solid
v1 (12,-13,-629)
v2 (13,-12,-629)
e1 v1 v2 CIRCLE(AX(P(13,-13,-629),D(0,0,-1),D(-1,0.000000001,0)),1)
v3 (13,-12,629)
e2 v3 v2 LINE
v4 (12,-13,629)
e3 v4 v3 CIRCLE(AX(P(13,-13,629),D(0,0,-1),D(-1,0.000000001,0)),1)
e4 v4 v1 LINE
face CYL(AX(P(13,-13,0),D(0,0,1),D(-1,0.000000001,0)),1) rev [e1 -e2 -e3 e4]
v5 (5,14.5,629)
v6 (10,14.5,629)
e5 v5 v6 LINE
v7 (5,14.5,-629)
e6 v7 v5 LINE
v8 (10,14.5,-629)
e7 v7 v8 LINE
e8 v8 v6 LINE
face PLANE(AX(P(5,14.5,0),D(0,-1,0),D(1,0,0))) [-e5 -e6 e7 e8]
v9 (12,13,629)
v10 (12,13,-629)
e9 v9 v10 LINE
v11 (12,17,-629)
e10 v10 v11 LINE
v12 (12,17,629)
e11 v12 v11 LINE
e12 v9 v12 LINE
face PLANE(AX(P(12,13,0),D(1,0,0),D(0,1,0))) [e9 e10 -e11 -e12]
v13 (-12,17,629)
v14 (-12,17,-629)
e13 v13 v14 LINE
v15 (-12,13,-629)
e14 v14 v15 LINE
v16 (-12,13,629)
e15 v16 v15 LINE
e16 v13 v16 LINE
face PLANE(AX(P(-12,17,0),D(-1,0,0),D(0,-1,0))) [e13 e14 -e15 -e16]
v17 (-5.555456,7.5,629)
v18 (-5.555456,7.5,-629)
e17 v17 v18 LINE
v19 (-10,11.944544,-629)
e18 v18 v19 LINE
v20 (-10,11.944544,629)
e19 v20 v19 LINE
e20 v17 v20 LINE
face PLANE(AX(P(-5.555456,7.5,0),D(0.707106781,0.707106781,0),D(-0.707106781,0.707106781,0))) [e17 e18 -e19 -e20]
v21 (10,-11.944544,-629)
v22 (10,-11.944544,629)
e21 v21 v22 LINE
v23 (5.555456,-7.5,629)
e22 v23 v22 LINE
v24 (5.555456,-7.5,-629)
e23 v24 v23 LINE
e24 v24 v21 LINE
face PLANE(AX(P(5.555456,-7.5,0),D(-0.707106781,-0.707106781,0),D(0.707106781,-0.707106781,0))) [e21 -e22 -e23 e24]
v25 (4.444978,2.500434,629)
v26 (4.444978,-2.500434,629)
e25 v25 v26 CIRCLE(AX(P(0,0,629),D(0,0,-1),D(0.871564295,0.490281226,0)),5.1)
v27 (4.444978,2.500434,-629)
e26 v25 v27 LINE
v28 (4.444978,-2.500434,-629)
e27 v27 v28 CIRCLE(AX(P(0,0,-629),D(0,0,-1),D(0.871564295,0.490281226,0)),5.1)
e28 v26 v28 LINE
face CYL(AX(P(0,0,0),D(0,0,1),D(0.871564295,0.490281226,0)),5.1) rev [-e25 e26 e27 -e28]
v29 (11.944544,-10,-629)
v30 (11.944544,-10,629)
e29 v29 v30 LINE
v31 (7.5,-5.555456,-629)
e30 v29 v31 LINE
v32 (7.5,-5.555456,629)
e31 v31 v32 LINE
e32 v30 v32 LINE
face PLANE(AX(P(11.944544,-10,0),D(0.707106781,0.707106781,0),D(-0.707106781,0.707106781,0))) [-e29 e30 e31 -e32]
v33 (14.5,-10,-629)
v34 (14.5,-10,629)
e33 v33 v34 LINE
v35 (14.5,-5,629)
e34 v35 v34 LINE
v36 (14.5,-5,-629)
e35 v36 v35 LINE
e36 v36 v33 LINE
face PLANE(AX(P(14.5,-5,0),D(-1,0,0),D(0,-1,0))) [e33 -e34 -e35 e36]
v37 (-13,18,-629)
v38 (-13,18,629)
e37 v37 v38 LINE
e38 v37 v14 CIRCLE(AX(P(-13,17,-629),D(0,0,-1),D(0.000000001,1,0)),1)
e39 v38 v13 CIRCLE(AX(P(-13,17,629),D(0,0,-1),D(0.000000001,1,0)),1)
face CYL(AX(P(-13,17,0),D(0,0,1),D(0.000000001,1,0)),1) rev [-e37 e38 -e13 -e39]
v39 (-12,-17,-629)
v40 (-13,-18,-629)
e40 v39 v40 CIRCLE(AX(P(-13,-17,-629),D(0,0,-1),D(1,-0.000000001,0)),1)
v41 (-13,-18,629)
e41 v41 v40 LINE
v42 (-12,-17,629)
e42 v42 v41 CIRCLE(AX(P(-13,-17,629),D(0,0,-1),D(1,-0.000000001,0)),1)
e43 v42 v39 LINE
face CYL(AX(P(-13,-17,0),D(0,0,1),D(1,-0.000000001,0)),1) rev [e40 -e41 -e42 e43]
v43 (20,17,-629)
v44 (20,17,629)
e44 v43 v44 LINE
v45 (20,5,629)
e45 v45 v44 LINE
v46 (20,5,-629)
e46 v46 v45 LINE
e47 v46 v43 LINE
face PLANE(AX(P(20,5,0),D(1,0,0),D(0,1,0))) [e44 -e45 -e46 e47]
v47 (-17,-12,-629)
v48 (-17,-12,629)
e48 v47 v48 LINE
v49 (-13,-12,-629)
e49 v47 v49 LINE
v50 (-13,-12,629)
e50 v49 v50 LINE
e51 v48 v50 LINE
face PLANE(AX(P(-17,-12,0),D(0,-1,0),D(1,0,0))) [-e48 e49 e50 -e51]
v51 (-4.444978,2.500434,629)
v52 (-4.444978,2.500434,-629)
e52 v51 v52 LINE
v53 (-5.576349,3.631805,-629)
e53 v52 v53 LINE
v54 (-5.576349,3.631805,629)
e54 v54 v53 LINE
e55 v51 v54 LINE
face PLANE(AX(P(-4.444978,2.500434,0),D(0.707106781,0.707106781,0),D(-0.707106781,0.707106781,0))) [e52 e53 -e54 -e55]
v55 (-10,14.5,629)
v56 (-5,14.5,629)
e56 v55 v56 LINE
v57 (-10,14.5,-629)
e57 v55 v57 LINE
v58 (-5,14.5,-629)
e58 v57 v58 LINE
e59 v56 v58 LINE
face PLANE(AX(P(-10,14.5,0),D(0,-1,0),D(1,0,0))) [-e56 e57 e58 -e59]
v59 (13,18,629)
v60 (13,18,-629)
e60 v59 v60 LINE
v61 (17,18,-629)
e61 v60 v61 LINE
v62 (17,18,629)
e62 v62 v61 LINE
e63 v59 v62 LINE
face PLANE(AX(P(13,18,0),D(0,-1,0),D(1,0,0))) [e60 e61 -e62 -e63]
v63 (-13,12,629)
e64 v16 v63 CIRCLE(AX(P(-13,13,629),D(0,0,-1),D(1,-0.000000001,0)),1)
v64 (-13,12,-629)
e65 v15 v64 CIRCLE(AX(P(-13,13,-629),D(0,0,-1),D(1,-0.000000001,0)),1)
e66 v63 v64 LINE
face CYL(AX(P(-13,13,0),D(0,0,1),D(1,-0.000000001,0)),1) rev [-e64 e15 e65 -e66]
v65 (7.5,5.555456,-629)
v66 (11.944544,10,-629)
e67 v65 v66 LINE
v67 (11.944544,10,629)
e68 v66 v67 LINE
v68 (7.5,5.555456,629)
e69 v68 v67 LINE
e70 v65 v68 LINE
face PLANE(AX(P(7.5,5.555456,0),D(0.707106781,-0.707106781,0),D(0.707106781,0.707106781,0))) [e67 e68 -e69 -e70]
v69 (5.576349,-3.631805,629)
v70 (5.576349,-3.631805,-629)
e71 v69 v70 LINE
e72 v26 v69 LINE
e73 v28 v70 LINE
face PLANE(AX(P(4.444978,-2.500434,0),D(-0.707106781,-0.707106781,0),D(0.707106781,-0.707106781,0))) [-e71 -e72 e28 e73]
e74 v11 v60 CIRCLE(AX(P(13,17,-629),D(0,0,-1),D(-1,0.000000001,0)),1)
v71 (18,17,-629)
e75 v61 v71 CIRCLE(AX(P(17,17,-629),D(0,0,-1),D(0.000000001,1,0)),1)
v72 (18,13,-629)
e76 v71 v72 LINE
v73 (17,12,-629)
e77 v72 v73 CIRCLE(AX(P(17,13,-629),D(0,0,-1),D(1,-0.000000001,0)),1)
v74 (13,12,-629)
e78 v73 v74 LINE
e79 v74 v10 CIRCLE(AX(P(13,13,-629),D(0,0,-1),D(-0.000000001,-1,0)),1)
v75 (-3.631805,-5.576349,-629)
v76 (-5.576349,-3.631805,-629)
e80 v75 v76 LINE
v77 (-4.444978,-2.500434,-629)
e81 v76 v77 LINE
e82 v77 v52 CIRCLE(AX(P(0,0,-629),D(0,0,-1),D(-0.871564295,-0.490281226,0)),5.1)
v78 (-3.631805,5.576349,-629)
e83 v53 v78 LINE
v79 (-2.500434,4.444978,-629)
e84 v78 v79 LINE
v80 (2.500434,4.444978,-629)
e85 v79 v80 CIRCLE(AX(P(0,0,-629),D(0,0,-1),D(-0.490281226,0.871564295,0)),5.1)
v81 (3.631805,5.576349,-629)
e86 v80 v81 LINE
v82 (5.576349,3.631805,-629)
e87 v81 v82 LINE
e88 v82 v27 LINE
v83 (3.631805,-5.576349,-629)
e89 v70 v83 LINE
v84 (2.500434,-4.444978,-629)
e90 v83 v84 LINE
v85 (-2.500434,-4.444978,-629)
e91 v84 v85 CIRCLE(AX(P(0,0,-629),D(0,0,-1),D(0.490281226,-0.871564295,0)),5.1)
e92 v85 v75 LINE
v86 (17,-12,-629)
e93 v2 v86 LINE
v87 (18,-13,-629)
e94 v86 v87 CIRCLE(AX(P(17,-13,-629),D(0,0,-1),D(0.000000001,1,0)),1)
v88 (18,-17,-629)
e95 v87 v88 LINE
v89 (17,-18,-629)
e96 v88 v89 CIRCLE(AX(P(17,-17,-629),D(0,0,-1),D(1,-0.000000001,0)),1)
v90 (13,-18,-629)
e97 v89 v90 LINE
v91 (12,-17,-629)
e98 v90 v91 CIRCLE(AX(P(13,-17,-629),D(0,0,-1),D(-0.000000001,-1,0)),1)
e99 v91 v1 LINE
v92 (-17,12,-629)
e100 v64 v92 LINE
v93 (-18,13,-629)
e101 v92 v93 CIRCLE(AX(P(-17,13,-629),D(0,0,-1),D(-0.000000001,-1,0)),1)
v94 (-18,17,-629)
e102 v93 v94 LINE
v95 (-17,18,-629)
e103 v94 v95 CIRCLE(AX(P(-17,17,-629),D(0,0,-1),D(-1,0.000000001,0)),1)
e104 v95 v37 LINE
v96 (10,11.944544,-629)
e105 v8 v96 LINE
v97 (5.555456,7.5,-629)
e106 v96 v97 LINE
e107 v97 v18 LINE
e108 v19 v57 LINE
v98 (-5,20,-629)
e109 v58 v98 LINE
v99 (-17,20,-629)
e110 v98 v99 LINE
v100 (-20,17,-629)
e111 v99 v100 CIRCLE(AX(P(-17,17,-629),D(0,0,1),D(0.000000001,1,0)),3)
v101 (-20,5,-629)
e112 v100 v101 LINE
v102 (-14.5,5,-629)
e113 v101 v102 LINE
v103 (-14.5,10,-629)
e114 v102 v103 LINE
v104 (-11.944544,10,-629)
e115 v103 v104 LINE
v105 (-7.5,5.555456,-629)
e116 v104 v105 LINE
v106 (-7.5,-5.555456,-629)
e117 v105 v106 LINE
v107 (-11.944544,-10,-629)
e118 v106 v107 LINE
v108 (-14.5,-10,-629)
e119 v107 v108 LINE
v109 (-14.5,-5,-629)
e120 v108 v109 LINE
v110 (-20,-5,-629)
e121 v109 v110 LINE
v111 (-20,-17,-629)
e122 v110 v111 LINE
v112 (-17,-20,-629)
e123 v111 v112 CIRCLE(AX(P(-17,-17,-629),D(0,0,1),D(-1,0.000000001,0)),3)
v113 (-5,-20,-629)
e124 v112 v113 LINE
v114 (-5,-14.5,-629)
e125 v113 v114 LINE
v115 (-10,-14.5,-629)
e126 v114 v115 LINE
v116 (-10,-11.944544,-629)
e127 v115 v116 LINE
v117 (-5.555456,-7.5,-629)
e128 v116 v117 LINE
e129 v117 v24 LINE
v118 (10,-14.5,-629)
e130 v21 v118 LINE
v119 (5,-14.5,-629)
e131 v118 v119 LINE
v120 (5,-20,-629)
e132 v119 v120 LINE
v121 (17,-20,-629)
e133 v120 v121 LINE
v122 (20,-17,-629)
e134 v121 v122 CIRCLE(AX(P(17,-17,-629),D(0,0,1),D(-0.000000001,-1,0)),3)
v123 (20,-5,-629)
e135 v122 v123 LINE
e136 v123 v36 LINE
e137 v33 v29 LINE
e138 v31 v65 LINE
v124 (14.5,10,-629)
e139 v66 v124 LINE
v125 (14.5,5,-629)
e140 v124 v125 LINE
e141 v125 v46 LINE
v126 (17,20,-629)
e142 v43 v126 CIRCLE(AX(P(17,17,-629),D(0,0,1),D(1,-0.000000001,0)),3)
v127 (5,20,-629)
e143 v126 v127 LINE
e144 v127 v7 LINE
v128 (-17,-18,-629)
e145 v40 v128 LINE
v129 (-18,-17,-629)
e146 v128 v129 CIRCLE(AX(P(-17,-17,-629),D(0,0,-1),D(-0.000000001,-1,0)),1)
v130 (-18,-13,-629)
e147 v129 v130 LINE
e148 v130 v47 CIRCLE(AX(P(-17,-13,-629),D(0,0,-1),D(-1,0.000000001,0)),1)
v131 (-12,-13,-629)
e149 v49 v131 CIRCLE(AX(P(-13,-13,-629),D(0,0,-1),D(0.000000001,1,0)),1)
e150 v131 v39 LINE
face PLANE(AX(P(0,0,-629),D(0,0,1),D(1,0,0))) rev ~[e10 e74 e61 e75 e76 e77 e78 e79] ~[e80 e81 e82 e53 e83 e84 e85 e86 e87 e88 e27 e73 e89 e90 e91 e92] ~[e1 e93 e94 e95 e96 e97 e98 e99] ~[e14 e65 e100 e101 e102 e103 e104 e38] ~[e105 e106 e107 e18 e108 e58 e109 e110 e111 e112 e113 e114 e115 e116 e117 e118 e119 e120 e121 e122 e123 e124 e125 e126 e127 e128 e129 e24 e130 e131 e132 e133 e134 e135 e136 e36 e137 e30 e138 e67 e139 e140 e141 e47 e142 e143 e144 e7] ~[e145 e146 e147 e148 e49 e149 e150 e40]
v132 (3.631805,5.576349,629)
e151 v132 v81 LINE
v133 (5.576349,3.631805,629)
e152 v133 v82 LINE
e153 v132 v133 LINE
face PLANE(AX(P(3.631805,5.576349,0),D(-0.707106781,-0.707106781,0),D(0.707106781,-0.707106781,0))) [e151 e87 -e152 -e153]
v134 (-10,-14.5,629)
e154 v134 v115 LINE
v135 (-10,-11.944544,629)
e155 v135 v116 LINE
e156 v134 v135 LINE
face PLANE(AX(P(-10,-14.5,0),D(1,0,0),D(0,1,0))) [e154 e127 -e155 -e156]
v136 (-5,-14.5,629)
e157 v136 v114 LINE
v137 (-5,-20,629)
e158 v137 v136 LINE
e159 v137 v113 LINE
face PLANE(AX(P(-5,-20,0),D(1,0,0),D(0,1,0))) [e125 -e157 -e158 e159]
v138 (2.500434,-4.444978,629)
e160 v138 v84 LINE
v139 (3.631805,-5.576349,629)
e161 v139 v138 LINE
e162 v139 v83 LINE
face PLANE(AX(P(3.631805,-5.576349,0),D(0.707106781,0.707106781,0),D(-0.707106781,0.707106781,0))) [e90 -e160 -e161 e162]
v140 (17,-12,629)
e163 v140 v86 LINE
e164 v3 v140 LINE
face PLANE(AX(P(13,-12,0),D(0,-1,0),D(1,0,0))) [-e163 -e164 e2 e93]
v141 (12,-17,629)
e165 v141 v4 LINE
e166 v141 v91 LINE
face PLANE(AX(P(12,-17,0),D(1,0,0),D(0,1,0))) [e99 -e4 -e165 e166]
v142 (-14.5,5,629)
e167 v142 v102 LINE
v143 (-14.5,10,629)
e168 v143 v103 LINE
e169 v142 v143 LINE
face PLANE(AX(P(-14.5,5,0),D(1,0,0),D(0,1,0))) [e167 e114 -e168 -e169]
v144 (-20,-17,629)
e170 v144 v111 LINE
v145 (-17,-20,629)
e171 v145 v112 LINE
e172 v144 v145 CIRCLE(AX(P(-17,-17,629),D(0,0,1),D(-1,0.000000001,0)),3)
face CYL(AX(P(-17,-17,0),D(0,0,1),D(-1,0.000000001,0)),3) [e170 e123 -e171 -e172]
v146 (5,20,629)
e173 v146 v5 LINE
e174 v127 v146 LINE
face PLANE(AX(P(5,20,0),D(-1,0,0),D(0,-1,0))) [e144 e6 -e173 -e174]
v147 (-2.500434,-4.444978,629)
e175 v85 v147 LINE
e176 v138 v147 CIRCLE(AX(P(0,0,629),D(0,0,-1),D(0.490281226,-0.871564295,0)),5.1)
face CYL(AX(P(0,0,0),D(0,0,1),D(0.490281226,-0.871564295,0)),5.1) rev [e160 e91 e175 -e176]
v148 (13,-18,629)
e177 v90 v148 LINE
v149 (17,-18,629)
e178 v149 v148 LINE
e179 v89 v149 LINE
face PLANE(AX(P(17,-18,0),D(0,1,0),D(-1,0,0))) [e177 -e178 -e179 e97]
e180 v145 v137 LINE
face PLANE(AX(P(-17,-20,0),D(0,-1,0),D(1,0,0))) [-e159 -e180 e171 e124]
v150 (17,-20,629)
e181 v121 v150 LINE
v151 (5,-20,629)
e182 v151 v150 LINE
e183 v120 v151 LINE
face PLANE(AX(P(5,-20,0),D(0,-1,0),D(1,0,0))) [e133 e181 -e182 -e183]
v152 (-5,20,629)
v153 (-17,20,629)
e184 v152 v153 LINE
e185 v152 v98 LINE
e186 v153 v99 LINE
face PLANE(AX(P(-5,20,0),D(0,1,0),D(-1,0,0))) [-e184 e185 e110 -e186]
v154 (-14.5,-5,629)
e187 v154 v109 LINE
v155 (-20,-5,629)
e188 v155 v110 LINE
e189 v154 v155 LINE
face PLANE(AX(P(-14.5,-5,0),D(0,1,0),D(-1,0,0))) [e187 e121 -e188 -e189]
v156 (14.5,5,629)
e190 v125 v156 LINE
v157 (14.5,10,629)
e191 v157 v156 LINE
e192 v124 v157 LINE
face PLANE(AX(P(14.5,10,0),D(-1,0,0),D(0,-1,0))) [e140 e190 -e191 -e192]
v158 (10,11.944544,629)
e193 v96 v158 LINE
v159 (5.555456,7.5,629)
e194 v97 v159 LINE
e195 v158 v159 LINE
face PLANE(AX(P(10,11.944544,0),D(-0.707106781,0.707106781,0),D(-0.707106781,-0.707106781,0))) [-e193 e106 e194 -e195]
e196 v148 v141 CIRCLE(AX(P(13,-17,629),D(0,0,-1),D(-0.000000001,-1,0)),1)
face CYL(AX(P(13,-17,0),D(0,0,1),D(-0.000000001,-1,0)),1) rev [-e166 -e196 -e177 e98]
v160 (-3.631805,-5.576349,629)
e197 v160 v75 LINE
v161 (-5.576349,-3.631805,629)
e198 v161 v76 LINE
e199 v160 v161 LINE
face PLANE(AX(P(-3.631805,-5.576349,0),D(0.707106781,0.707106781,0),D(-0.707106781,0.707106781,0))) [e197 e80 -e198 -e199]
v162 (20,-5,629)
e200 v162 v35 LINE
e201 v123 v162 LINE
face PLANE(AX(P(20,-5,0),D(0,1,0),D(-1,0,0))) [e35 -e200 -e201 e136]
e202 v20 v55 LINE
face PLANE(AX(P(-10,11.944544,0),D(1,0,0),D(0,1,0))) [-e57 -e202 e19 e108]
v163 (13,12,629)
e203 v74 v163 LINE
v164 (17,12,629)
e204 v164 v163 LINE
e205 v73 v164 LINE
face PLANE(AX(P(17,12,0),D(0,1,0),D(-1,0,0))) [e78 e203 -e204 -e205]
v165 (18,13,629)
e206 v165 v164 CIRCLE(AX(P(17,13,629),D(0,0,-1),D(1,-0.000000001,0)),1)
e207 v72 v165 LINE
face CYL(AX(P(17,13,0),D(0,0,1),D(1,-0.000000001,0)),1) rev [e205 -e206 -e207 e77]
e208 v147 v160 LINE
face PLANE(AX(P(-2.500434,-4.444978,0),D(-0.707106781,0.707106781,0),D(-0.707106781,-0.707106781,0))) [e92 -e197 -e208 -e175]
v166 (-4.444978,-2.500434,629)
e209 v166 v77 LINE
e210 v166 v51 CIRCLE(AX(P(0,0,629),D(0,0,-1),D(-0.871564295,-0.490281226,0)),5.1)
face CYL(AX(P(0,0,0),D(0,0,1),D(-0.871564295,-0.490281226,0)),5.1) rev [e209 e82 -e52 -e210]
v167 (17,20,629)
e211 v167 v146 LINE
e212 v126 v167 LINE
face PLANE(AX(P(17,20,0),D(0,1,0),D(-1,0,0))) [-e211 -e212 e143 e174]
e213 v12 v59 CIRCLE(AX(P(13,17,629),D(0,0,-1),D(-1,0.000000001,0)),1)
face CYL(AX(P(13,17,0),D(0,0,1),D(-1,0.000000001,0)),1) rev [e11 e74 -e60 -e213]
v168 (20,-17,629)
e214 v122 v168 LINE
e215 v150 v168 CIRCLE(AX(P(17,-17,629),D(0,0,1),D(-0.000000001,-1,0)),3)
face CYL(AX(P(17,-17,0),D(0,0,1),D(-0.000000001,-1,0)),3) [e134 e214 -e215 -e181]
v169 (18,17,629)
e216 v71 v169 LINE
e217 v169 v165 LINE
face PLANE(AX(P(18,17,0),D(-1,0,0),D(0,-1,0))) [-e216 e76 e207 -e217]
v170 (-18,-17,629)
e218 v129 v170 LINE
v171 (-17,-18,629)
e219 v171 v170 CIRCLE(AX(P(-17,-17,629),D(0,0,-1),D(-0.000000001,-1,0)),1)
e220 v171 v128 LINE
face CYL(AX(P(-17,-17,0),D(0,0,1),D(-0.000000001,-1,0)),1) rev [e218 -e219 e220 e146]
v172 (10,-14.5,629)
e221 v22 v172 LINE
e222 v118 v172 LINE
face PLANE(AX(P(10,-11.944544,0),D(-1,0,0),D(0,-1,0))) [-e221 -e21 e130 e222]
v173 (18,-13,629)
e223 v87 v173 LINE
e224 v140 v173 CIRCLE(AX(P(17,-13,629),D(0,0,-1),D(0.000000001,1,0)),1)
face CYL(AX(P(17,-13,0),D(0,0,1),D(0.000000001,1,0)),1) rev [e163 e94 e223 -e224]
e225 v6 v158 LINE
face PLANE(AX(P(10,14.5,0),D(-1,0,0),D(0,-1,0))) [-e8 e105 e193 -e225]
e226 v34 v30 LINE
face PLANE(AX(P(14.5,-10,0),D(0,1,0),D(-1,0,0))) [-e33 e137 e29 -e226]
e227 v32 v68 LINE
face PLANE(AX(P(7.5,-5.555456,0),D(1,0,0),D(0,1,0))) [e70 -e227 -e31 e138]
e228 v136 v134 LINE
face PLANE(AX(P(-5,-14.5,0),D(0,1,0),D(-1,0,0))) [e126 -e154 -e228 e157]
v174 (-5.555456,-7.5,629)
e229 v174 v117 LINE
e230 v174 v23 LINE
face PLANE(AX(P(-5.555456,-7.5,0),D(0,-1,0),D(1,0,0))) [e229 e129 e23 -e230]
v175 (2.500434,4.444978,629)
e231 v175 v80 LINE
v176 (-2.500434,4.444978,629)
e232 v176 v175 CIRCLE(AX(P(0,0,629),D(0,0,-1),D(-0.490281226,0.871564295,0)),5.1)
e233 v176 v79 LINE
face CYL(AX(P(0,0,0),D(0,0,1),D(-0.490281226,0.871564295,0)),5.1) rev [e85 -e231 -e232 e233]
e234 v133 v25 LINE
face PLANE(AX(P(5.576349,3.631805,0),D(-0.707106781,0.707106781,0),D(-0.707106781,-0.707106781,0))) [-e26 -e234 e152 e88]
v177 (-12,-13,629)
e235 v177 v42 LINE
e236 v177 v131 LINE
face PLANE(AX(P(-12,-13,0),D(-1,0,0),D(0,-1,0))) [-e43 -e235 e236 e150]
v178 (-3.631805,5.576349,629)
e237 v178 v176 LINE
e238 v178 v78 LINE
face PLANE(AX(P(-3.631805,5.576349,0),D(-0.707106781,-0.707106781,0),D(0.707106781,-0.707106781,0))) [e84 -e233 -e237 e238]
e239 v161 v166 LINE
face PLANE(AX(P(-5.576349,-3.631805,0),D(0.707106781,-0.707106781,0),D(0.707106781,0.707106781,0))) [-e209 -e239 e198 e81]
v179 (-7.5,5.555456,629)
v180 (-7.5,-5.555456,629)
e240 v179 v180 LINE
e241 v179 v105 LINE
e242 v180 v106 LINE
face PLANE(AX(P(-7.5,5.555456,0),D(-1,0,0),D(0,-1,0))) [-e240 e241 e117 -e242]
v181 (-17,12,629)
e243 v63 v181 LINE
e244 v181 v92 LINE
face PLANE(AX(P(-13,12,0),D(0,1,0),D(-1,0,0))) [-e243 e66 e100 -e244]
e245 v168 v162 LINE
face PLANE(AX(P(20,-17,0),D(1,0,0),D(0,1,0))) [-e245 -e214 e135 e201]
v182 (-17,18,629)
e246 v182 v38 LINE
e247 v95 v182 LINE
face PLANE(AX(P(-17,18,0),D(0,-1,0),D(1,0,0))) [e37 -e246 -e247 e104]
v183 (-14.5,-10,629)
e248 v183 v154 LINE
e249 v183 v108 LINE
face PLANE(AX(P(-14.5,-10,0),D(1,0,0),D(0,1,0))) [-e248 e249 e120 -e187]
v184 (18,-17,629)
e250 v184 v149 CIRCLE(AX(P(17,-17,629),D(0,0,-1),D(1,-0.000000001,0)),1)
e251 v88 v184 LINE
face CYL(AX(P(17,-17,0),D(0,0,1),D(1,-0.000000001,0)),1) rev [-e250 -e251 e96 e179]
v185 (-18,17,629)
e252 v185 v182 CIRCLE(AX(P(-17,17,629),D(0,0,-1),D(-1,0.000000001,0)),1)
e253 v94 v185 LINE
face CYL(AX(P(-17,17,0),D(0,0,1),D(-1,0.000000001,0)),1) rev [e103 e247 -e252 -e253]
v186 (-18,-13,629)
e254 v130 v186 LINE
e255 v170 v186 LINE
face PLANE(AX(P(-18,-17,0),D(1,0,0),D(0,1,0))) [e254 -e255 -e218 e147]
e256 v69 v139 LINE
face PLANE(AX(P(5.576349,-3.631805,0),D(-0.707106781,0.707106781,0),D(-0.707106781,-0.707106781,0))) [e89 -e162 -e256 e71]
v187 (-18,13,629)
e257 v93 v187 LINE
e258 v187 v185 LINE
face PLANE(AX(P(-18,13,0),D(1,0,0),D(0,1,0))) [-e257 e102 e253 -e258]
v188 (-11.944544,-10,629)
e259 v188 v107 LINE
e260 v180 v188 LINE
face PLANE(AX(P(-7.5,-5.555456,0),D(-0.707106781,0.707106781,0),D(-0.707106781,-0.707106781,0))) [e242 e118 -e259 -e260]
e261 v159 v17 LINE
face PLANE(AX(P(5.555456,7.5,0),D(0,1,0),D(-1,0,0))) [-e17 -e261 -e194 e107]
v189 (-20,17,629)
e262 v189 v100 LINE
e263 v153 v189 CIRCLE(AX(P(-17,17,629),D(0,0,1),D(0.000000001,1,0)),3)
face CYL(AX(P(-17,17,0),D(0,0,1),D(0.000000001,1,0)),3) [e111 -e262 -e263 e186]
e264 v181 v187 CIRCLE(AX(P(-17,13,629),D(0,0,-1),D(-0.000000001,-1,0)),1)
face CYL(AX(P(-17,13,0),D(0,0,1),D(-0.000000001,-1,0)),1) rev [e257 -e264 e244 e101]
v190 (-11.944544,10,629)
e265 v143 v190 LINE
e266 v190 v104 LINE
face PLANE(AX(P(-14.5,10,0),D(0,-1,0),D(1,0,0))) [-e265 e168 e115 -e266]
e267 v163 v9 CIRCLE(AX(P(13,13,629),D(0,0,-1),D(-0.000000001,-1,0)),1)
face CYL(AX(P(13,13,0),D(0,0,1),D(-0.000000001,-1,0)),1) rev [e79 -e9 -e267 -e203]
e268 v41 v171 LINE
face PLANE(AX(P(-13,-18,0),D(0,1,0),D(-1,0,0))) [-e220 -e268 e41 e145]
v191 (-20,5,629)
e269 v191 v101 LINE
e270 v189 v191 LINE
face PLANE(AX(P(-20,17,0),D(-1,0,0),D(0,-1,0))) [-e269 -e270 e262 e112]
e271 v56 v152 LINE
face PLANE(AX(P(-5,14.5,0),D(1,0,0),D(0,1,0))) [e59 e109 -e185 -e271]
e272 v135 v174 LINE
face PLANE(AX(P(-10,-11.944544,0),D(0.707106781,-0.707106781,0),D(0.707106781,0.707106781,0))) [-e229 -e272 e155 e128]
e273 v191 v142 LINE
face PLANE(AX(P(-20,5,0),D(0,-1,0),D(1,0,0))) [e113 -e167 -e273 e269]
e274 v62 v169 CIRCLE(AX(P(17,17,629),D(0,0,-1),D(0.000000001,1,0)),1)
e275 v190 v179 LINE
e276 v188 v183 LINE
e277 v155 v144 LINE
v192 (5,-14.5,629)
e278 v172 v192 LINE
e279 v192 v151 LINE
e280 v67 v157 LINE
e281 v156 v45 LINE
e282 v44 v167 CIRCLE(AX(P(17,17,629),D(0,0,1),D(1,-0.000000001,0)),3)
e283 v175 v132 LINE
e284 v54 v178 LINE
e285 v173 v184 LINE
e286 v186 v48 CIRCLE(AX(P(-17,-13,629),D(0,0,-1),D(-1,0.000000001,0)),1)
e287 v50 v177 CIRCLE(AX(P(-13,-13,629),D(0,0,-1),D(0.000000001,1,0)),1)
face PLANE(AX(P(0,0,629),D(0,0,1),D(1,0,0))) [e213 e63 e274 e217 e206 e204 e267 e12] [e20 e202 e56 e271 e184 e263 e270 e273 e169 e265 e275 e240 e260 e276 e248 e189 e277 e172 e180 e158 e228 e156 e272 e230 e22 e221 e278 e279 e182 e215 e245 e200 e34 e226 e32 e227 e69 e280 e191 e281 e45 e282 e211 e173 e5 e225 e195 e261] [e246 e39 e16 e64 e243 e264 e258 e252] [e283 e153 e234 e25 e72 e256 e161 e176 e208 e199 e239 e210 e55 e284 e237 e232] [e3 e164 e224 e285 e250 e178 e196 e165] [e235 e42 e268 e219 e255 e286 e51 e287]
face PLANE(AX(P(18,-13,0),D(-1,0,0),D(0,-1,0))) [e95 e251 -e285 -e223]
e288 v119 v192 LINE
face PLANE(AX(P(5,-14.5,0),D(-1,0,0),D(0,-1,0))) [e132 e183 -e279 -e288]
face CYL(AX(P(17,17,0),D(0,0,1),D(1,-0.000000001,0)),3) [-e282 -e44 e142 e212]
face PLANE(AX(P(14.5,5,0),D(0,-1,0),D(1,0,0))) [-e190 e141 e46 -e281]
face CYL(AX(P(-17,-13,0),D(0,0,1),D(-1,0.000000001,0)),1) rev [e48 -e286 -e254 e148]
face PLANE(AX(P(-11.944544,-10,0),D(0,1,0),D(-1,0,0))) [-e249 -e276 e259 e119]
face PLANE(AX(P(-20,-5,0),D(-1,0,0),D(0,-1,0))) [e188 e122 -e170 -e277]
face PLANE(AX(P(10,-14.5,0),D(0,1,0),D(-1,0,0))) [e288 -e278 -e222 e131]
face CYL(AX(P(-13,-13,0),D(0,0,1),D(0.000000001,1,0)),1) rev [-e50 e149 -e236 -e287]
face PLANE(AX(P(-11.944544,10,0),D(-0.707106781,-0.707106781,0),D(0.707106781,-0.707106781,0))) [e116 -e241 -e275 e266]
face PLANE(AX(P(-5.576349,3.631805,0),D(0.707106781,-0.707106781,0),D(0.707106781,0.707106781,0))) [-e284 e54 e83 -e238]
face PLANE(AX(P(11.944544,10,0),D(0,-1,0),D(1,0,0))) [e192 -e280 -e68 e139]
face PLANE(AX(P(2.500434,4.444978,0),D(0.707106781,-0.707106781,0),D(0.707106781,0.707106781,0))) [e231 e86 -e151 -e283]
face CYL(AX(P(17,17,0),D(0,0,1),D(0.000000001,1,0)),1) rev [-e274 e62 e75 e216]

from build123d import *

# Parameters (mm, degrees)
BOSS_EXTRUDE1_DEPTH = 629


with BuildPart() as part:
    # Sketch1 → Boss-Extrude1 (new, symmetric)
    with BuildSketch(Plane.XY):
        with BuildLine():
            Line((-5.555456352, -7.5), (5.555456352, -7.5))
            Line((5.555456352, -7.5), (10, -11.944543648))
            Line((10, -11.944543648), (10, -14.5))
            Line((10, -14.5), (5, -14.5))
            Line((5, -14.5), (5, -20))
            Line((5, -20), (17, -20))
            ThreePointArc((17, -20), (19.121320344, -19.121320344), (20, -17))
            Line((20, -17), (20, -5))
            Line((20, -5), (14.5, -5))
            Line((14.5, -5), (14.5, -10))
            Line((14.5, -10), (11.944543648, -10))
            Line((11.944543648, -10), (7.5, -5.555456352))
            Line((7.5, -5.555456352), (7.5, 5.555456352))
            Line((7.5, 5.555456352), (11.944543648, 10))
            Line((11.944543648, 10), (14.5, 10))
            Line((14.5, 10), (14.5, 5))
            Line((14.5, 5), (20, 5))
            Line((20, 5), (20, 17))
            ThreePointArc((20, 17), (19.121320344, 19.121320344), (17, 20))
            Line((17, 20), (5, 20))
            Line((5, 20), (5, 14.5))
            Line((5, 14.5), (10, 14.5))
            Line((10, 14.5), (10, 11.944543648))
            Line((10, 11.944543648), (5.555456352, 7.5))
            Line((5.555456352, 7.5), (-5.555456352, 7.5))
            Line((-5.555456352, 7.5), (-10, 11.944543648))
            Line((-10, 11.944543648), (-10, 14.5))
            Line((-10, 14.5), (-5, 14.5))
            Line((-5, 14.5), (-5, 20))
            Line((-5, 20), (-17, 20))
            ThreePointArc((-17, 20), (-19.121320344, 19.121320344), (-20, 17))
            Line((-20, 17), (-20, 5))
            Line((-20, 5), (-14.5, 5))
            Line((-14.5, 5), (-14.5, 10))
            Line((-14.5, 10), (-11.944543648, 10))
            Line((-11.944543648, 10), (-7.5, 5.555456352))
            Line((-7.5, 5.555456352), (-7.5, -5.555456352))
            Line((-7.5, -5.555456352), (-11.944543648, -10))
            Line((-11.944543648, -10), (-14.5, -10))
            Line((-14.5, -10), (-14.5, -5))
            Line((-14.5, -5), (-20, -5))
            Line((-20, -5), (-20, -17))
            ThreePointArc((-20, -17), (-19.121320344, -19.121320344), (-17, -20))
            Line((-17, -20), (-5, -20))
            Line((-5, -20), (-5, -14.5))
            Line((-5, -14.5), (-10, -14.5))
            Line((-10, -14.5), (-10, -11.944543648))
            Line((-10, -11.944543648), (-5.555456352, -7.5))
        make_face()
        with BuildLine():
            Line((-18, 13), (-18, 17))
            ThreePointArc((-18, 17), (-17.707106781, 17.707106781), (-17, 18))
            Line((-17, 18), (-13, 18))
            ThreePointArc((-13, 18), (-12.292893219, 17.707106781), (-12, 17))
            Line((-12, 17), (-12, 13))
            ThreePointArc((-12, 13), (-12.292893219, 12.292893219), (-13, 12))
            Line((-13, 12), (-17, 12))
            ThreePointArc((-17, 12), (-17.707106781, 12.292893219), (-18, 13))
        make_face(mode=Mode.SUBTRACT)
        with BuildLine():
            Line((-18, -17), (-18, -13))
            ThreePointArc((-18, -13), (-17.707106781, -12.292893219), (-17, -12))
            Line((-17, -12), (-13, -12))
            ThreePointArc((-13, -12), (-12.292893219, -12.292893219), (-12, -13))
            Line((-12, -13), (-12, -17))
            ThreePointArc((-12, -17), (-12.292893219, -17.707106781), (-13, -18))
            Line((-13, -18), (-17, -18))
            ThreePointArc((-17, -18), (-17.707106781, -17.707106781), (-18, -17))
        make_face(mode=Mode.SUBTRACT)
        with BuildLine():
            Line((18, -13), (18, -17))
            ThreePointArc((18, -17), (17.707106781, -17.707106781), (17, -18))
            Line((17, -18), (13, -18))
            ThreePointArc((13, -18), (12.292893219, -17.707106781), (12, -17))
            Line((12, -17), (12, -13))
            ThreePointArc((12, -13), (12.292893219, -12.292893219), (13, -12))
            Line((13, -12), (17, -12))
            ThreePointArc((17, -12), (17.707106781, -12.292893219), (18, -13))
        make_face(mode=Mode.SUBTRACT)
        with BuildLine():
            Line((18, 17), (18, 13))
            ThreePointArc((18, 13), (17.707106781, 12.292893219), (17, 12))
            Line((17, 12), (13, 12))
            ThreePointArc((13, 12), (12.292893219, 12.292893219), (12, 13))
            Line((12, 13), (12, 17))
            ThreePointArc((12, 17), (12.292893219, 17.707106781), (13, 18))
            Line((13, 18), (17, 18))
            ThreePointArc((17, 18), (17.707106781, 17.707106781), (18, 17))
        make_face(mode=Mode.SUBTRACT)
        with BuildLine():
            Line((-2.500434253, -4.444977902), (-3.631805103, -5.576348751))
            Line((-3.631805103, -5.576348751), (-5.576348751, -3.631805103))
            Line((-5.576348751, -3.631805103), (-4.444977902, -2.500434253))
            ThreePointArc((-4.444977902, -2.500434253), (-5.1, 0), (-4.444977902, 2.500434253))
            Line((-4.444977902, 2.500434253), (-5.576348751, 3.631805103))
            Line((-5.576348751, 3.631805103), (-3.631805103, 5.576348751))
            Line((-3.631805103, 5.576348751), (-2.500434253, 4.444977902))
            ThreePointArc((-2.500434253, 4.444977902), (0, 5.1), (2.500434253, 4.444977902))
            Line((2.500434253, 4.444977902), (3.631805103, 5.576348751))
            Line((3.631805103, 5.576348751), (5.576348751, 3.631805103))
            Line((5.576348751, 3.631805103), (4.444977902, 2.500434253))
            ThreePointArc((4.444977902, 2.500434253), (5.1, 0), (4.444977902, -2.500434253))
            Line((4.444977902, -2.500434253), (5.576348751, -3.631805103))
            Line((5.576348751, -3.631805103), (3.631805103, -5.576348751))
            Line((3.631805103, -5.576348751), (2.500434253, -4.444977902))
            ThreePointArc((2.500434253, -4.444977902), (0, -5.1), (-2.500434253, -4.444977902))
        make_face(mode=Mode.SUBTRACT)
    extrude(amount=BOSS_EXTRUDE1_DEPTH, both=True)


solid = part.part
